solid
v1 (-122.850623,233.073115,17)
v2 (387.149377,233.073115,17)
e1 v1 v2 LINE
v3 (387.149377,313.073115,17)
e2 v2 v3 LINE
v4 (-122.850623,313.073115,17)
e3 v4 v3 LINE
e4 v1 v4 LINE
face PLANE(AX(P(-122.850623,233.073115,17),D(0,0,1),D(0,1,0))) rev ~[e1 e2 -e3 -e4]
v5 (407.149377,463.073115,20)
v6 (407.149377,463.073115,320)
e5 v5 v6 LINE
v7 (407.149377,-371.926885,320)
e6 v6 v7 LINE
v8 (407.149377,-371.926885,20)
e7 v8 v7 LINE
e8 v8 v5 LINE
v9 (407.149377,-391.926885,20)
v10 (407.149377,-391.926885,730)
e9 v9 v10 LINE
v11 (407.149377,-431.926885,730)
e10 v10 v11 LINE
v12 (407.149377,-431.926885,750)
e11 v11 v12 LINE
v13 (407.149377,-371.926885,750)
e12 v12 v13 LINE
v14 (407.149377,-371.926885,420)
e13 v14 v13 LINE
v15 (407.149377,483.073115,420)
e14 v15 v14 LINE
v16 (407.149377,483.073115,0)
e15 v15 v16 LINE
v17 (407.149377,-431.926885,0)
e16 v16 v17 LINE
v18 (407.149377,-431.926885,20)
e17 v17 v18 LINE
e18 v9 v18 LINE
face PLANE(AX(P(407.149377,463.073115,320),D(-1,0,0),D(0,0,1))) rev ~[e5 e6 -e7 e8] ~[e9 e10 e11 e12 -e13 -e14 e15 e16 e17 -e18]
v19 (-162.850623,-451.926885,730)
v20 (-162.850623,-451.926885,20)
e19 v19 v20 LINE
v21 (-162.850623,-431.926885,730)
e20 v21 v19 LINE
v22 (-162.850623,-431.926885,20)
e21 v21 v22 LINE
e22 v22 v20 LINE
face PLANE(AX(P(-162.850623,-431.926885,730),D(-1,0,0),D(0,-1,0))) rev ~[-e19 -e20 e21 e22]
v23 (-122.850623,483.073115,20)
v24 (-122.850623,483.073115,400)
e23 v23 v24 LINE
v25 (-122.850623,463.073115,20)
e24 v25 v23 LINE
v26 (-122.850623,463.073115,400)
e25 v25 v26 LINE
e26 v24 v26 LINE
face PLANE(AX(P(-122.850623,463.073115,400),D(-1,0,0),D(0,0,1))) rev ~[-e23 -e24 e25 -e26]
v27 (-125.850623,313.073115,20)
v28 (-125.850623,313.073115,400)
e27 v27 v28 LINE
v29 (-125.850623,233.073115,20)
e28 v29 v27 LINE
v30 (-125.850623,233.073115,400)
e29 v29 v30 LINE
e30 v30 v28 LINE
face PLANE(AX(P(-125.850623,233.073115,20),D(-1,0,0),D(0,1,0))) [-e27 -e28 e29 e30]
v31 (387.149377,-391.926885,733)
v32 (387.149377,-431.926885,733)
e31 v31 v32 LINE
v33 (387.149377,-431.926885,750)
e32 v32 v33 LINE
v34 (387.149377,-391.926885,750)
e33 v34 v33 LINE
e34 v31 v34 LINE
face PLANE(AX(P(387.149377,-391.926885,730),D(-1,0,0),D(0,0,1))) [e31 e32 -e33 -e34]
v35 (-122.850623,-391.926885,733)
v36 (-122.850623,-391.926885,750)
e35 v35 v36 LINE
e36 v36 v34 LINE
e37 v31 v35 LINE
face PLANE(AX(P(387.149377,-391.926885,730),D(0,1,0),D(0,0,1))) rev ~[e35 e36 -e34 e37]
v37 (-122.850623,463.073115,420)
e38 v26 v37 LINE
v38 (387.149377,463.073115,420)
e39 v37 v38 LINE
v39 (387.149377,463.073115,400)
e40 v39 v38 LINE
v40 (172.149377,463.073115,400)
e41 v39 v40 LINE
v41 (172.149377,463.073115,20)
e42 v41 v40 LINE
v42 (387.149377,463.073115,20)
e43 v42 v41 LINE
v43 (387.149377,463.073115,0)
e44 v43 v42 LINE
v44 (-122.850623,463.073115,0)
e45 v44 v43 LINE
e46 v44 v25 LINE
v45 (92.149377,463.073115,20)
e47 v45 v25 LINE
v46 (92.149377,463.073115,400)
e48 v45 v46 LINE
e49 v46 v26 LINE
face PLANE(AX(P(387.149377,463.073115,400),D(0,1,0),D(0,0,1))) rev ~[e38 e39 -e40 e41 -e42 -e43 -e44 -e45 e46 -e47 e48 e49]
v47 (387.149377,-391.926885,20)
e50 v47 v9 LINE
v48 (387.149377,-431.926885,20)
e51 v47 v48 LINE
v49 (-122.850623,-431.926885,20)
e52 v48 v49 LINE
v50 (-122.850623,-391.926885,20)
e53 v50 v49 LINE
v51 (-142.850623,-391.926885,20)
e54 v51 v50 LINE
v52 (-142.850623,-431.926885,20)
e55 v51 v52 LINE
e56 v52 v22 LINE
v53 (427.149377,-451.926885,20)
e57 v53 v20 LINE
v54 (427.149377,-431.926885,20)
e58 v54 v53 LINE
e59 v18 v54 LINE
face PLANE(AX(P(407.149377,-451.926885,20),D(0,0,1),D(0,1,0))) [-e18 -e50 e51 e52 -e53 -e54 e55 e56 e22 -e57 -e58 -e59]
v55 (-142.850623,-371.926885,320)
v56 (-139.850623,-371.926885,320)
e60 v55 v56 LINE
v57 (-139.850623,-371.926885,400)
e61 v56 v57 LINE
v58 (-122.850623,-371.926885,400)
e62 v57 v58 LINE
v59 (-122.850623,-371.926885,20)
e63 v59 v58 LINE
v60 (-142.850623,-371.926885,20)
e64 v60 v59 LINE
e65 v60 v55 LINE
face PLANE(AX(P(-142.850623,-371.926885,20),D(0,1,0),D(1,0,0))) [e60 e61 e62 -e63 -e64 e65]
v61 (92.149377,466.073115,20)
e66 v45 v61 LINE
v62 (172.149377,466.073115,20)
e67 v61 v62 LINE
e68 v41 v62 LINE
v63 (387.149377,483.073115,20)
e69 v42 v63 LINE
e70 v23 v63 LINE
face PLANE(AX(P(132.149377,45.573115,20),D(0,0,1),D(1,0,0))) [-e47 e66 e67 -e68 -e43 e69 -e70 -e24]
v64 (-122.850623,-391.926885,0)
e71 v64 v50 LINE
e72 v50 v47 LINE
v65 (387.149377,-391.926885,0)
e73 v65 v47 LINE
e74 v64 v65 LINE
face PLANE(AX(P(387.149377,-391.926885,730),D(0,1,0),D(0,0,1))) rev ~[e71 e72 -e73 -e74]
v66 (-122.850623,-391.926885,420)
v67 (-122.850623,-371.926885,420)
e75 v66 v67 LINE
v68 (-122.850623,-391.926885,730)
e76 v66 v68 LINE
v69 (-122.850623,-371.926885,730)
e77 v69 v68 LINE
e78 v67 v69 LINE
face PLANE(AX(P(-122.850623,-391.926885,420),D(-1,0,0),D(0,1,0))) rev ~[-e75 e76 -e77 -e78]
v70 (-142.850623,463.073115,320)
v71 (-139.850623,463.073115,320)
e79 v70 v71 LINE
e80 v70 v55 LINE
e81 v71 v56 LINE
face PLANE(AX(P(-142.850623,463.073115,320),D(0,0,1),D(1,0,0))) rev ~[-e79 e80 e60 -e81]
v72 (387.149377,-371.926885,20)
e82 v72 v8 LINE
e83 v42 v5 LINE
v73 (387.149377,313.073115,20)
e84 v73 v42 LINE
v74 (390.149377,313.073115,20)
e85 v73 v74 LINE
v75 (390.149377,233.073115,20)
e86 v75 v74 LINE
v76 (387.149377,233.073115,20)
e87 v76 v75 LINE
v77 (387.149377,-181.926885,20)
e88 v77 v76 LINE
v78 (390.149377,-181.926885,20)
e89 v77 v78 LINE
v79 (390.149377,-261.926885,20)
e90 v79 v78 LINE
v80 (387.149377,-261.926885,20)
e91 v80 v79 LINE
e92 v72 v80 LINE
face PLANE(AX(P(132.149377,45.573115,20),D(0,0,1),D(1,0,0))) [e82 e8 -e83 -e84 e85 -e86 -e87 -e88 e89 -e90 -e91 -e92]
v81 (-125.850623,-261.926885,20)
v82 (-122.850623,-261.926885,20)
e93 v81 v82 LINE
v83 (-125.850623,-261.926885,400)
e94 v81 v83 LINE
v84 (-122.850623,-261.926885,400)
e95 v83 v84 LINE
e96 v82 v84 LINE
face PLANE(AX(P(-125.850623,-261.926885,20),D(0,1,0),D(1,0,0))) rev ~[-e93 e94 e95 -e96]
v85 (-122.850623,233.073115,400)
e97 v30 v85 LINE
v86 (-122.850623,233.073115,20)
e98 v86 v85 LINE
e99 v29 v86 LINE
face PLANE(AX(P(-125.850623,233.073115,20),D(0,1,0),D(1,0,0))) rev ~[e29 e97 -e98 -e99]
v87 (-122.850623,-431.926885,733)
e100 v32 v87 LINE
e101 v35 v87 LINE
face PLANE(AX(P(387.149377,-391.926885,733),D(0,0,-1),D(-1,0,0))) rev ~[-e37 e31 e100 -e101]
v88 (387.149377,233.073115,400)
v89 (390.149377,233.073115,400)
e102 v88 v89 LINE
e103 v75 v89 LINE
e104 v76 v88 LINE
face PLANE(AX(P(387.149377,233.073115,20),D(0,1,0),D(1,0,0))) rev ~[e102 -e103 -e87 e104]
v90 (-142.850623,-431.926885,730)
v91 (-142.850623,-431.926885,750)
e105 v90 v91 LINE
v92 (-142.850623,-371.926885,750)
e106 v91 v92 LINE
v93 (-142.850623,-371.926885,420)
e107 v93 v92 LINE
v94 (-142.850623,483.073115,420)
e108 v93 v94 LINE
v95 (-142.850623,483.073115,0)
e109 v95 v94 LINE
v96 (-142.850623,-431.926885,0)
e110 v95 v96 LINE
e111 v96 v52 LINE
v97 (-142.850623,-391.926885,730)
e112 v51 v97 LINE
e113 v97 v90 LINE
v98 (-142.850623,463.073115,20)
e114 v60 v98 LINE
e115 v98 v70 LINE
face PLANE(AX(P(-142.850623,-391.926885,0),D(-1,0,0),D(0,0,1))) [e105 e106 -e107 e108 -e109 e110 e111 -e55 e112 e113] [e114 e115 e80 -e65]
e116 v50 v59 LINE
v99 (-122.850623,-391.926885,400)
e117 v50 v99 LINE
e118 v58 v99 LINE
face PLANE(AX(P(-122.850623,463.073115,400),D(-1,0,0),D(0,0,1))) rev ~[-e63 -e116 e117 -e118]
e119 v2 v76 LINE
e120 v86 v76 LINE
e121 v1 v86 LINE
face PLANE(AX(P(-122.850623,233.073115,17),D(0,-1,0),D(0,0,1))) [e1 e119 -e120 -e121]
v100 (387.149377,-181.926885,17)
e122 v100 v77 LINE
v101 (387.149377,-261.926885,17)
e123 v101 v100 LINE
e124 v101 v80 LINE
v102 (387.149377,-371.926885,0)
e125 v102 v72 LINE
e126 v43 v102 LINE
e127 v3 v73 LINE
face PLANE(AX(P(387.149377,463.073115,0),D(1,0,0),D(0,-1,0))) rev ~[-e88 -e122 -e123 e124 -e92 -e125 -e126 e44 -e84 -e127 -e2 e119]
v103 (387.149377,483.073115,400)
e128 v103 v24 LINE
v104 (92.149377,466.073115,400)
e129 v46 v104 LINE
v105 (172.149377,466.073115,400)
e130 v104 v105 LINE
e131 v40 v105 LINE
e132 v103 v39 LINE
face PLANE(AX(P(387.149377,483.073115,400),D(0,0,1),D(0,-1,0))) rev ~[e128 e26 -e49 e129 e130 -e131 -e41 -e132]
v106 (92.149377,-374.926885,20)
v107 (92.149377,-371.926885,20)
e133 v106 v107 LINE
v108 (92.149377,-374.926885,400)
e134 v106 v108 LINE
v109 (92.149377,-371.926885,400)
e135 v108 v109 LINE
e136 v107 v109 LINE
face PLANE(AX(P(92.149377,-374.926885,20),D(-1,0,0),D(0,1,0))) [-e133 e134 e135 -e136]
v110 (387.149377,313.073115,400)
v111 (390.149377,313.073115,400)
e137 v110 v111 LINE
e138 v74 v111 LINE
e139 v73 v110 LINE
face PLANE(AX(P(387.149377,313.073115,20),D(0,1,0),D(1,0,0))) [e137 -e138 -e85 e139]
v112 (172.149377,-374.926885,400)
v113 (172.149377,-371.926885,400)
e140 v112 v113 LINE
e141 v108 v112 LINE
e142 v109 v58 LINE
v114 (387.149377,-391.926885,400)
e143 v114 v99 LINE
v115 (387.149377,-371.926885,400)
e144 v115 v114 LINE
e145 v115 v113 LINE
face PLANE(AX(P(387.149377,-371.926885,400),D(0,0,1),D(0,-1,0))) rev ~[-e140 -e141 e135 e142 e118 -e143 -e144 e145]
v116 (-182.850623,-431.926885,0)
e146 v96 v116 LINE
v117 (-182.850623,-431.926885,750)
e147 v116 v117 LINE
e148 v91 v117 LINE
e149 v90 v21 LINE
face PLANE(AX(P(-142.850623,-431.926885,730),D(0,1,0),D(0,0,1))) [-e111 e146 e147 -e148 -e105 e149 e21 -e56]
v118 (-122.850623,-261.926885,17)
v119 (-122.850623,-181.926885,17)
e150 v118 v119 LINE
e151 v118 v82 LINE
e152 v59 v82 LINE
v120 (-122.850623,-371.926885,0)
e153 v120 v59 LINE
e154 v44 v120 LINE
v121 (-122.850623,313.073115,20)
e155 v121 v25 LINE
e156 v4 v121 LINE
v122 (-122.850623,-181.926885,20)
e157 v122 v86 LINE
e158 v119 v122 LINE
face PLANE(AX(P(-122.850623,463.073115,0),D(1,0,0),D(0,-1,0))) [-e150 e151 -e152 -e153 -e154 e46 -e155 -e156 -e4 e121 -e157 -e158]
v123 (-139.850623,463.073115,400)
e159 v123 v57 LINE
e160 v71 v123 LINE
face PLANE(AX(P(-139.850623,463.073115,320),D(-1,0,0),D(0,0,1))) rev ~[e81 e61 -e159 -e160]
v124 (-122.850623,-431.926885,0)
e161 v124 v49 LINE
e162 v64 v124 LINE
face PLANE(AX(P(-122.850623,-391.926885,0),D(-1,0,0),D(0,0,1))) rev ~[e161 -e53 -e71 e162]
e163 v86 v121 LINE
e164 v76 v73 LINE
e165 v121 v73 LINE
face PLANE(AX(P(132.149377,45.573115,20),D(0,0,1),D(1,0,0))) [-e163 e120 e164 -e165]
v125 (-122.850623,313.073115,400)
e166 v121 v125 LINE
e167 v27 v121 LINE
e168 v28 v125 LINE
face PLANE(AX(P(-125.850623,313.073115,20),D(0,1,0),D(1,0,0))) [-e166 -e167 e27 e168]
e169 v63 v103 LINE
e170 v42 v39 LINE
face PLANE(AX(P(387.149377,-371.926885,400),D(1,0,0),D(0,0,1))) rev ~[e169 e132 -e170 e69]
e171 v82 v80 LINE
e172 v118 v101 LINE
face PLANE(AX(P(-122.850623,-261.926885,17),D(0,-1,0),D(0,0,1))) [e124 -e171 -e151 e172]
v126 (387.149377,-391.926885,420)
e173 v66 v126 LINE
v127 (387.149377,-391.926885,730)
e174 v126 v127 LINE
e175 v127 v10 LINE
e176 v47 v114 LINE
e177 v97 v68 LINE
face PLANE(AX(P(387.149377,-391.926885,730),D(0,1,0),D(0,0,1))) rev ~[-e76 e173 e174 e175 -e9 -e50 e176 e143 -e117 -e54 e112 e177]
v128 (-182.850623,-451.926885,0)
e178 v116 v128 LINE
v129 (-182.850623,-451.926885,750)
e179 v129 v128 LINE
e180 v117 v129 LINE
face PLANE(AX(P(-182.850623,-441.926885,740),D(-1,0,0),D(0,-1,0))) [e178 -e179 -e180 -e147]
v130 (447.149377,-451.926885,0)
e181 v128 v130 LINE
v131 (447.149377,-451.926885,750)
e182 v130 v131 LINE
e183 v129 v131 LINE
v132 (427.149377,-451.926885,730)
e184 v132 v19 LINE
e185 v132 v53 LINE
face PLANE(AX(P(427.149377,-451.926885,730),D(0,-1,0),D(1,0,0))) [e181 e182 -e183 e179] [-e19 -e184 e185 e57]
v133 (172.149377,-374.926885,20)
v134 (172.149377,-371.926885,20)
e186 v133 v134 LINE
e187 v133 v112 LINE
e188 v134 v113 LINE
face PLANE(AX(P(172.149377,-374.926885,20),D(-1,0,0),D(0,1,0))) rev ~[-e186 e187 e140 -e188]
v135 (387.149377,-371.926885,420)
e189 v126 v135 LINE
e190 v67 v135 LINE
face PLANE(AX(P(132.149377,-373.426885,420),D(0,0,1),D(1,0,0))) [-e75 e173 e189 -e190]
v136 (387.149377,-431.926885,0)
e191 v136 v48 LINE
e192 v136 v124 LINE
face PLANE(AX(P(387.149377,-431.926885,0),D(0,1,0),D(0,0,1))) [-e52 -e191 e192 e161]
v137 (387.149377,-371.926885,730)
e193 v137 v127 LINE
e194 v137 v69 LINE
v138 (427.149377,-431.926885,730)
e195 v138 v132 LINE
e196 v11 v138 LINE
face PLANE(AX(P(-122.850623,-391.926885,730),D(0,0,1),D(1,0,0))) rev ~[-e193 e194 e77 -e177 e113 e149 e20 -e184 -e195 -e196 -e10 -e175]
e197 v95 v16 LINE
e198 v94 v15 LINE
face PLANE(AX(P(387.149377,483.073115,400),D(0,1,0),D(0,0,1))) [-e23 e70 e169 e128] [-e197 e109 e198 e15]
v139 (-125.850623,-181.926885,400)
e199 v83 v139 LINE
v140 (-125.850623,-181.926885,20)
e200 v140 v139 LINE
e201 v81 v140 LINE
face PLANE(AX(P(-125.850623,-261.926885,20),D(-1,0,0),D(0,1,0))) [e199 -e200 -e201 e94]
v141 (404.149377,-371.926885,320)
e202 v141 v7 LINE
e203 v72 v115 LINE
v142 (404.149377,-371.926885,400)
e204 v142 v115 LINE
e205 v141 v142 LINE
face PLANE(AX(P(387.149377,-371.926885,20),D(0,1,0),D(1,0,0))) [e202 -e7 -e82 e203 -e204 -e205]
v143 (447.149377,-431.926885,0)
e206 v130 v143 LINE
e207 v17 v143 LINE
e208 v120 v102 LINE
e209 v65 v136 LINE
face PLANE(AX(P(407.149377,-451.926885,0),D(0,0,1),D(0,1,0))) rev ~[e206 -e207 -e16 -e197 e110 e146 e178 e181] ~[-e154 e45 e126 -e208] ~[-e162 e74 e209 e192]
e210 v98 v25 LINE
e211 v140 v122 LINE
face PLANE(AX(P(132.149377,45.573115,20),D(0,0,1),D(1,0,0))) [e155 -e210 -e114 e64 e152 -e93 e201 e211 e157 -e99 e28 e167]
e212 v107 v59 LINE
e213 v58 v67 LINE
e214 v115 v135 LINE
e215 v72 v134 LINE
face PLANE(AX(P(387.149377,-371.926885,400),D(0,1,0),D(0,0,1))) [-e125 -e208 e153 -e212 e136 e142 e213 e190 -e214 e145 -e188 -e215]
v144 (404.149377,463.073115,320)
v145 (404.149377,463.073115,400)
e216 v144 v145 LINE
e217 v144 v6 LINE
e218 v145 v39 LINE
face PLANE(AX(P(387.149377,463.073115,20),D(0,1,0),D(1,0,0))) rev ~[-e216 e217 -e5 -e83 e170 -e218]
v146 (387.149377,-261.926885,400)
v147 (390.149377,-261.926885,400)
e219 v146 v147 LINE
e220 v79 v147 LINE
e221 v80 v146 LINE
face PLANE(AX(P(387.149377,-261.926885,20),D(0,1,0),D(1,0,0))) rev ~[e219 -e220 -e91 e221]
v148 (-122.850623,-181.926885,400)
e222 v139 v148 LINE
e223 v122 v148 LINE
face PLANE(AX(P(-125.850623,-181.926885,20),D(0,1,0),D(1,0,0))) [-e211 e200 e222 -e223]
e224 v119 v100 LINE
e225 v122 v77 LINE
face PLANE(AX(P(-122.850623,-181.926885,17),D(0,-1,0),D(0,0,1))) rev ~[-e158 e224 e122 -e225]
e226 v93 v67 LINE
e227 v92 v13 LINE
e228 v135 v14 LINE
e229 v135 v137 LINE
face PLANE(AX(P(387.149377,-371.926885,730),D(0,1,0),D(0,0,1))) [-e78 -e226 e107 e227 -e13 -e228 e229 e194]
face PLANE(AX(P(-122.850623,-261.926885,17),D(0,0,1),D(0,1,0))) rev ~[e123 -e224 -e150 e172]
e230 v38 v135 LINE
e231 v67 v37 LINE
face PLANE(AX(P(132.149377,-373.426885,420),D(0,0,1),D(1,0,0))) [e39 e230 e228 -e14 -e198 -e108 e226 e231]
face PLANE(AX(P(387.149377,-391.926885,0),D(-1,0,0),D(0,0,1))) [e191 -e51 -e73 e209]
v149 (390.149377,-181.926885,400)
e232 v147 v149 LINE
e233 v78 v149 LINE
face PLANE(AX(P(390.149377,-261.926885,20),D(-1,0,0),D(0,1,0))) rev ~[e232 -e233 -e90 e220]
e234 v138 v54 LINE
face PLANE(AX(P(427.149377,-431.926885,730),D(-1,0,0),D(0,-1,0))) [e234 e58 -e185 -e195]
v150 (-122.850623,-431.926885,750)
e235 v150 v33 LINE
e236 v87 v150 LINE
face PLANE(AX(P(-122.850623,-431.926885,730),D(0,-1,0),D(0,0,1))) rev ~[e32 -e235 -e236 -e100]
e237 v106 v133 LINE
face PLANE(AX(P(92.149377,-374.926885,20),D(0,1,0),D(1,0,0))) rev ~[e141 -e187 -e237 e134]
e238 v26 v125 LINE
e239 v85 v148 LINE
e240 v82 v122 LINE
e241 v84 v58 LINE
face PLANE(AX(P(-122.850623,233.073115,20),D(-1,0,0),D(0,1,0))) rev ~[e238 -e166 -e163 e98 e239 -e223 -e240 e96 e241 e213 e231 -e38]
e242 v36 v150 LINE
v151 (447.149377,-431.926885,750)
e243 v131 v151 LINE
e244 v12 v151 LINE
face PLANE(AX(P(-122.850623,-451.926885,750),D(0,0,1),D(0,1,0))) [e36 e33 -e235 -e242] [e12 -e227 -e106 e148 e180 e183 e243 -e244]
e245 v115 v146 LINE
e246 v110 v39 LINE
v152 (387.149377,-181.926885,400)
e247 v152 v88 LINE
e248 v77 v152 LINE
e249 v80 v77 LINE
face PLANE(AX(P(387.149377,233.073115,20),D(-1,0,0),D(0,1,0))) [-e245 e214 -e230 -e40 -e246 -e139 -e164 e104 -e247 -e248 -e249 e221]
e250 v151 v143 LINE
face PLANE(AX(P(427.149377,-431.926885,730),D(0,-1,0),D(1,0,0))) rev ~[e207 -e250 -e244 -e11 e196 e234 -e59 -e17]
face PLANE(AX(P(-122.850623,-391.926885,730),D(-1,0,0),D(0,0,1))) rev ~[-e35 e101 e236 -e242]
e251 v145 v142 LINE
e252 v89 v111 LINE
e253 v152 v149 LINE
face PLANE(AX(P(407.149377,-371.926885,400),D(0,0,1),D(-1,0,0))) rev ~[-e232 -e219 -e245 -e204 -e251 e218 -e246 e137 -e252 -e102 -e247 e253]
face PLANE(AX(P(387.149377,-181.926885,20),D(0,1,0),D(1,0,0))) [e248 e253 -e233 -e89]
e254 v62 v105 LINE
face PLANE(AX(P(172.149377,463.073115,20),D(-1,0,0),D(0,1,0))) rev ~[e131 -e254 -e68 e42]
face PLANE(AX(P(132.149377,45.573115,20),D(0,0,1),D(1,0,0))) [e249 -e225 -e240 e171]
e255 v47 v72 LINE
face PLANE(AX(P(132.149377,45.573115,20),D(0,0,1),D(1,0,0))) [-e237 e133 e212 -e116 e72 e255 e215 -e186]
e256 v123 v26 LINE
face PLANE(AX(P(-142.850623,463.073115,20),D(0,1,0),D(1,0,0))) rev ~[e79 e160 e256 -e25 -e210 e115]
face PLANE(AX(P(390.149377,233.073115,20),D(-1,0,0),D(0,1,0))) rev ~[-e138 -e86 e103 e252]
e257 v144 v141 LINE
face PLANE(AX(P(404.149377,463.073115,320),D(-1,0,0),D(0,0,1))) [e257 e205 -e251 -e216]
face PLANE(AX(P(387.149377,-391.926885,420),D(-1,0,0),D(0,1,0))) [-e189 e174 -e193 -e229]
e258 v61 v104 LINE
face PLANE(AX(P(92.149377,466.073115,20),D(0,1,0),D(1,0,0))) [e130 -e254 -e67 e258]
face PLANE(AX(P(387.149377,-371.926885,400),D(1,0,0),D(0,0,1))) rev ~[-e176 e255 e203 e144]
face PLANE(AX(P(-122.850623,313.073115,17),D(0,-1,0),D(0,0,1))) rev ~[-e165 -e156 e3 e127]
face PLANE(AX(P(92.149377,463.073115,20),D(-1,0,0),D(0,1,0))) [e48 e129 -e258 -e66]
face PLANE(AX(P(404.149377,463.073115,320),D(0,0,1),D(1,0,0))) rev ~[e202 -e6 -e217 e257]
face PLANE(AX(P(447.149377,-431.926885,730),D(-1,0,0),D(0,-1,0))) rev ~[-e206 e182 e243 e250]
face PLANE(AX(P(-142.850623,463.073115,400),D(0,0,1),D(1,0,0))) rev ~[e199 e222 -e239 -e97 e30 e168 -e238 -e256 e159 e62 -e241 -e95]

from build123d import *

# Parameters (mm, degrees)
F0_W      = 550
F0_H      = 875
F1_DEPTH  = 20
F2_W      = 510
F2_H      = 835
F3_DEPTH  = 20.001
F4_W      = 80
F4_H      = 3
F5_DEPTH  = 510
F6_W      = 20
F6_H      = 20
F7_DEPTH  = 400
F8_W      = 20
F8_H      = 20
F9_DEPTH  = 835
F10_W     = 20
F10_H     = 20
F11_DEPTH = 835
F12_W     = 20
F12_H     = 20
F13_DEPTH = 510
F15_W     = 3
F15_H     = 80
F16_DEPTH = 835
F17_W     = 3
F17_H     = 80
F18_DEPTH = 835
F19_W     = 20
F19_H     = 20
F20_DEPTH = 510
F14_W     = 80
F14_H     = 3
F14_W_2   = 3
F14_H_2   = 80
F21_DEPTH = 380
F22_DEPTH = 400
F23_W     = 20
F23_H     = 20
F24_DEPTH = 330
F25_W     = 20
F25_H     = 20
F26_DEPTH = 510
F27_W     = 20
F27_H     = 20
F28_DEPTH = 60
F29_W     = 20
F29_H     = 20
F30_DEPTH = 510
F31_W     = 20
F31_H     = 20
F32_DEPTH = 510
F33_W     = 20
F33_H     = 20
F34_DEPTH = 40
F35_W     = 20
F35_H     = 20
F36_DEPTH = 40
F37_W     = 20
F37_H     = 20
F38_DEPTH = 710
F40_DEPTH = 40


with BuildPart() as f1:
    # F0 (on Top) → F1 (new body)
    with BuildSketch(Plane.XY):
        with Locations((132.149377, 45.573115)):
            Rectangle(F0_W, F0_H)
    extrude(amount=F1_DEPTH)

    # F2 (on face) → F3 (cut, through all)
    with BuildSketch(Plane(origin=(0, 0, 0), x_dir=(1, 0, 0), z_dir=(0, 0, -1))):
        with Locations((132.149377, -45.573115)):
            Rectangle(F2_W, F2_H)
    extrude(amount=-F3_DEPTH, mode=Mode.SUBTRACT)

    # F4 (on face) → F5 (join, through all)
    with BuildSketch(Plane.YZ.offset(-122.850623)):
        with Locations((273.073115, 18.5)):
            Rectangle(F4_W, F4_H)
        with Locations((-221.926885, 18.5)):
            Rectangle(F4_W, F4_H)
    extrude(amount=F5_DEPTH)



with BuildPart() as f7:
    # F6 (on face) → F7 (new body)
    with BuildSketch(Plane.XY.offset(20)):
        with Locations((-132.850623, -381.926885)):
            Rectangle(F6_W, F6_H)
        with Locations((397.149377, -381.926885)):
            Rectangle(F6_W, F6_H)
        with Locations((-132.850623, 473.073115)):
            Rectangle(F6_W, F6_H)
        with Locations((397.149377, 473.073115)):
            Rectangle(F6_W, F6_H)
    extrude(amount=F7_DEPTH)

    # F8 (on face) → F9 (join, through all)
    with BuildSketch(Plane(origin=(0, -371.926885, 0), x_dir=(-1, 0, 0), z_dir=(0, 1, 0))):
        with Locations((-397.149377, 410)):
            Rectangle(F8_W, F8_H)
    extrude(amount=F9_DEPTH)

    # F10 (on face) → F11 (join, through all)
    with BuildSketch(Plane.XZ.offset(-463.073115)):
        with Locations((-132.850623, 410)):
            Rectangle(F10_W, F10_H)
    extrude(amount=F11_DEPTH)

    # F12 (on face) → F13 (join, through all)
    with BuildSketch(Plane(origin=(387.149377, 0, 0), x_dir=(0, -1, 0), z_dir=(-1, 0, 0))):
        with Locations((381.926885, 410)):
            Rectangle(F12_W, F12_H)
    extrude(amount=F13_DEPTH)

    # F15 (on face) → F16 (join, through all)
    with BuildSketch(Plane.XZ.offset(-463.073115)):
        with Locations((405.649377, 360)):
            Rectangle(F15_W, F15_H)
    extrude(amount=F16_DEPTH)

    # F17 (on face) → F18 (join, through all)
    with BuildSketch(Plane.XZ.offset(-463.073115)):
        with Locations((-141.350623, 360)):
            Rectangle(F17_W, F17_H)
    extrude(amount=F18_DEPTH)

    # F19 (on face) → F20 (join, through all)
    with BuildSketch(Plane(origin=(387.149377, 0, 0), x_dir=(0, -1, 0), z_dir=(-1, 0, 0))):
        with Locations((-473.073115, 410)):
            Rectangle(F19_W, F19_H)
    extrude(amount=F20_DEPTH)


with BuildPart() as f1_1:
    add(f1.part)

    add(f7.part)  # F21 merges F7
    # F14 (on face) → F21 (join, through all)
    with BuildSketch(Plane.XY.offset(20)):
        with Locations((132.149377, -373.426885)):
            Rectangle(F14_W, F14_H)
        with Locations((132.149377, 464.573115)):
            Rectangle(F14_W, F14_H)
        with Locations((388.649377, 273.073115)):
            Rectangle(F14_W_2, F14_H_2)
        with Locations((388.649377, -221.926885)):
            Rectangle(F14_W_2, F14_H_2)
        with Locations((-124.350623, -221.926885)):
            Rectangle(F14_W_2, F14_H_2)
        with Locations((-124.350623, 273.073115)):
            Rectangle(F14_W_2, F14_H_2)
    extrude(amount=F21_DEPTH)

    # F14 (on face) → F22 (join, through all)
    with BuildSketch(Plane.XY.offset(20)):
        with Locations((132.149377, -373.426885)):
            Rectangle(F14_W, F14_H)
        with Locations((132.149377, 464.573115)):
            Rectangle(F14_W, F14_H)
        with Locations((388.649377, 273.073115)):
            Rectangle(F14_W_2, F14_H_2)
        with Locations((388.649377, -221.926885)):
            Rectangle(F14_W_2, F14_H_2)
        with Locations((-124.350623, -221.926885)):
            Rectangle(F14_W_2, F14_H_2)
        with Locations((-124.350623, 273.073115)):
            Rectangle(F14_W_2, F14_H_2)
    extrude(amount=F22_DEPTH)

    # F23 (on face) → F24 (join)
    with BuildSketch(Plane.XY.offset(420)):
        with Locations((-132.850623, -381.926885)):
            Rectangle(F23_W, F23_H)
        with Locations((397.149377, -381.926885)):
            Rectangle(F23_W, F23_H)
    extrude(amount=F24_DEPTH)

    # F25 (on face) → F26 (join, through all)
    with BuildSketch(Plane(origin=(387.149377, 0, 0), x_dir=(0, -1, 0), z_dir=(-1, 0, 0))):
        with Locations((381.926885, 740)):
            Rectangle(F25_W, F25_H)
    extrude(amount=F26_DEPTH)

    # F27 (on face) → F28 (join)
    with BuildSketch(Plane.XZ.offset(391.926885)):
        with Locations((-132.850623, 10)):
            Rectangle(F27_W, F27_H)
        with Locations((397.149377, 10)):
            Rectangle(F27_W, F27_H)
        with Locations((-132.850623, 740)):
            Rectangle(F27_W, F27_H)
        with Locations((397.149377, 740)):
            Rectangle(F27_W, F27_H)
    extrude(amount=F28_DEPTH)

    # F29 (on face) → F30 (join, through all)
    with BuildSketch(Plane.YZ.offset(-122.850623)):
        with Locations((-441.926885, 740)):
            Rectangle(F29_W, F29_H)
    extrude(amount=F30_DEPTH)

    # F31 (on face) → F32 (join, through all)
    with BuildSketch(Plane(origin=(387.149377, 0, 0), x_dir=(0, -1, 0), z_dir=(-1, 0, 0))):
        with Locations((441.926885, 10)):
            Rectangle(F31_W, F31_H)
    extrude(amount=F32_DEPTH)

    # F33 (on face) → F34 (join)
    with BuildSketch(Plane(origin=(-142.850623, 0, 0), x_dir=(0, -1, 0), z_dir=(-1, 0, 0))):
        with Locations((441.926885, 10)):
            Rectangle(F33_W, F33_H)
        with Locations((441.926885, 740)):
            Rectangle(F33_W, F33_H)
    extrude(amount=F34_DEPTH)

    # F35 (on face) → F36 (join)
    with BuildSketch(Plane.YZ.offset(407.149377)):
        with Locations((-441.926885, 10)):
            Rectangle(F35_W, F35_H)
        with Locations((-441.926885, 740)):
            Rectangle(F35_W, F35_H)
    extrude(amount=F36_DEPTH)

    # F37 (on face) → F38 (join, through all)
    with BuildSketch(Plane(origin=(0, 0, 730), x_dir=(1, 0, 0), z_dir=(0, 0, -1))):
        with Locations((437.149377, 441.926885)):
            Rectangle(F37_W, F37_H)
        with Locations((-172.850623, 441.926885)):
            Rectangle(F37_W, F37_H)
    extrude(amount=F38_DEPTH)

    # F39 (on face) → F40 (join, through all)
    with BuildSketch(Plane.XZ.offset(391.926885)):
        Polygon((114.305049, 733), (-122.850623, 733), (-122.850623, 730), (114.305049, 730), (387.149377, 730), (387.149377, 733), align=None)
    extrude(amount=F40_DEPTH)


solid = f1_1.part
